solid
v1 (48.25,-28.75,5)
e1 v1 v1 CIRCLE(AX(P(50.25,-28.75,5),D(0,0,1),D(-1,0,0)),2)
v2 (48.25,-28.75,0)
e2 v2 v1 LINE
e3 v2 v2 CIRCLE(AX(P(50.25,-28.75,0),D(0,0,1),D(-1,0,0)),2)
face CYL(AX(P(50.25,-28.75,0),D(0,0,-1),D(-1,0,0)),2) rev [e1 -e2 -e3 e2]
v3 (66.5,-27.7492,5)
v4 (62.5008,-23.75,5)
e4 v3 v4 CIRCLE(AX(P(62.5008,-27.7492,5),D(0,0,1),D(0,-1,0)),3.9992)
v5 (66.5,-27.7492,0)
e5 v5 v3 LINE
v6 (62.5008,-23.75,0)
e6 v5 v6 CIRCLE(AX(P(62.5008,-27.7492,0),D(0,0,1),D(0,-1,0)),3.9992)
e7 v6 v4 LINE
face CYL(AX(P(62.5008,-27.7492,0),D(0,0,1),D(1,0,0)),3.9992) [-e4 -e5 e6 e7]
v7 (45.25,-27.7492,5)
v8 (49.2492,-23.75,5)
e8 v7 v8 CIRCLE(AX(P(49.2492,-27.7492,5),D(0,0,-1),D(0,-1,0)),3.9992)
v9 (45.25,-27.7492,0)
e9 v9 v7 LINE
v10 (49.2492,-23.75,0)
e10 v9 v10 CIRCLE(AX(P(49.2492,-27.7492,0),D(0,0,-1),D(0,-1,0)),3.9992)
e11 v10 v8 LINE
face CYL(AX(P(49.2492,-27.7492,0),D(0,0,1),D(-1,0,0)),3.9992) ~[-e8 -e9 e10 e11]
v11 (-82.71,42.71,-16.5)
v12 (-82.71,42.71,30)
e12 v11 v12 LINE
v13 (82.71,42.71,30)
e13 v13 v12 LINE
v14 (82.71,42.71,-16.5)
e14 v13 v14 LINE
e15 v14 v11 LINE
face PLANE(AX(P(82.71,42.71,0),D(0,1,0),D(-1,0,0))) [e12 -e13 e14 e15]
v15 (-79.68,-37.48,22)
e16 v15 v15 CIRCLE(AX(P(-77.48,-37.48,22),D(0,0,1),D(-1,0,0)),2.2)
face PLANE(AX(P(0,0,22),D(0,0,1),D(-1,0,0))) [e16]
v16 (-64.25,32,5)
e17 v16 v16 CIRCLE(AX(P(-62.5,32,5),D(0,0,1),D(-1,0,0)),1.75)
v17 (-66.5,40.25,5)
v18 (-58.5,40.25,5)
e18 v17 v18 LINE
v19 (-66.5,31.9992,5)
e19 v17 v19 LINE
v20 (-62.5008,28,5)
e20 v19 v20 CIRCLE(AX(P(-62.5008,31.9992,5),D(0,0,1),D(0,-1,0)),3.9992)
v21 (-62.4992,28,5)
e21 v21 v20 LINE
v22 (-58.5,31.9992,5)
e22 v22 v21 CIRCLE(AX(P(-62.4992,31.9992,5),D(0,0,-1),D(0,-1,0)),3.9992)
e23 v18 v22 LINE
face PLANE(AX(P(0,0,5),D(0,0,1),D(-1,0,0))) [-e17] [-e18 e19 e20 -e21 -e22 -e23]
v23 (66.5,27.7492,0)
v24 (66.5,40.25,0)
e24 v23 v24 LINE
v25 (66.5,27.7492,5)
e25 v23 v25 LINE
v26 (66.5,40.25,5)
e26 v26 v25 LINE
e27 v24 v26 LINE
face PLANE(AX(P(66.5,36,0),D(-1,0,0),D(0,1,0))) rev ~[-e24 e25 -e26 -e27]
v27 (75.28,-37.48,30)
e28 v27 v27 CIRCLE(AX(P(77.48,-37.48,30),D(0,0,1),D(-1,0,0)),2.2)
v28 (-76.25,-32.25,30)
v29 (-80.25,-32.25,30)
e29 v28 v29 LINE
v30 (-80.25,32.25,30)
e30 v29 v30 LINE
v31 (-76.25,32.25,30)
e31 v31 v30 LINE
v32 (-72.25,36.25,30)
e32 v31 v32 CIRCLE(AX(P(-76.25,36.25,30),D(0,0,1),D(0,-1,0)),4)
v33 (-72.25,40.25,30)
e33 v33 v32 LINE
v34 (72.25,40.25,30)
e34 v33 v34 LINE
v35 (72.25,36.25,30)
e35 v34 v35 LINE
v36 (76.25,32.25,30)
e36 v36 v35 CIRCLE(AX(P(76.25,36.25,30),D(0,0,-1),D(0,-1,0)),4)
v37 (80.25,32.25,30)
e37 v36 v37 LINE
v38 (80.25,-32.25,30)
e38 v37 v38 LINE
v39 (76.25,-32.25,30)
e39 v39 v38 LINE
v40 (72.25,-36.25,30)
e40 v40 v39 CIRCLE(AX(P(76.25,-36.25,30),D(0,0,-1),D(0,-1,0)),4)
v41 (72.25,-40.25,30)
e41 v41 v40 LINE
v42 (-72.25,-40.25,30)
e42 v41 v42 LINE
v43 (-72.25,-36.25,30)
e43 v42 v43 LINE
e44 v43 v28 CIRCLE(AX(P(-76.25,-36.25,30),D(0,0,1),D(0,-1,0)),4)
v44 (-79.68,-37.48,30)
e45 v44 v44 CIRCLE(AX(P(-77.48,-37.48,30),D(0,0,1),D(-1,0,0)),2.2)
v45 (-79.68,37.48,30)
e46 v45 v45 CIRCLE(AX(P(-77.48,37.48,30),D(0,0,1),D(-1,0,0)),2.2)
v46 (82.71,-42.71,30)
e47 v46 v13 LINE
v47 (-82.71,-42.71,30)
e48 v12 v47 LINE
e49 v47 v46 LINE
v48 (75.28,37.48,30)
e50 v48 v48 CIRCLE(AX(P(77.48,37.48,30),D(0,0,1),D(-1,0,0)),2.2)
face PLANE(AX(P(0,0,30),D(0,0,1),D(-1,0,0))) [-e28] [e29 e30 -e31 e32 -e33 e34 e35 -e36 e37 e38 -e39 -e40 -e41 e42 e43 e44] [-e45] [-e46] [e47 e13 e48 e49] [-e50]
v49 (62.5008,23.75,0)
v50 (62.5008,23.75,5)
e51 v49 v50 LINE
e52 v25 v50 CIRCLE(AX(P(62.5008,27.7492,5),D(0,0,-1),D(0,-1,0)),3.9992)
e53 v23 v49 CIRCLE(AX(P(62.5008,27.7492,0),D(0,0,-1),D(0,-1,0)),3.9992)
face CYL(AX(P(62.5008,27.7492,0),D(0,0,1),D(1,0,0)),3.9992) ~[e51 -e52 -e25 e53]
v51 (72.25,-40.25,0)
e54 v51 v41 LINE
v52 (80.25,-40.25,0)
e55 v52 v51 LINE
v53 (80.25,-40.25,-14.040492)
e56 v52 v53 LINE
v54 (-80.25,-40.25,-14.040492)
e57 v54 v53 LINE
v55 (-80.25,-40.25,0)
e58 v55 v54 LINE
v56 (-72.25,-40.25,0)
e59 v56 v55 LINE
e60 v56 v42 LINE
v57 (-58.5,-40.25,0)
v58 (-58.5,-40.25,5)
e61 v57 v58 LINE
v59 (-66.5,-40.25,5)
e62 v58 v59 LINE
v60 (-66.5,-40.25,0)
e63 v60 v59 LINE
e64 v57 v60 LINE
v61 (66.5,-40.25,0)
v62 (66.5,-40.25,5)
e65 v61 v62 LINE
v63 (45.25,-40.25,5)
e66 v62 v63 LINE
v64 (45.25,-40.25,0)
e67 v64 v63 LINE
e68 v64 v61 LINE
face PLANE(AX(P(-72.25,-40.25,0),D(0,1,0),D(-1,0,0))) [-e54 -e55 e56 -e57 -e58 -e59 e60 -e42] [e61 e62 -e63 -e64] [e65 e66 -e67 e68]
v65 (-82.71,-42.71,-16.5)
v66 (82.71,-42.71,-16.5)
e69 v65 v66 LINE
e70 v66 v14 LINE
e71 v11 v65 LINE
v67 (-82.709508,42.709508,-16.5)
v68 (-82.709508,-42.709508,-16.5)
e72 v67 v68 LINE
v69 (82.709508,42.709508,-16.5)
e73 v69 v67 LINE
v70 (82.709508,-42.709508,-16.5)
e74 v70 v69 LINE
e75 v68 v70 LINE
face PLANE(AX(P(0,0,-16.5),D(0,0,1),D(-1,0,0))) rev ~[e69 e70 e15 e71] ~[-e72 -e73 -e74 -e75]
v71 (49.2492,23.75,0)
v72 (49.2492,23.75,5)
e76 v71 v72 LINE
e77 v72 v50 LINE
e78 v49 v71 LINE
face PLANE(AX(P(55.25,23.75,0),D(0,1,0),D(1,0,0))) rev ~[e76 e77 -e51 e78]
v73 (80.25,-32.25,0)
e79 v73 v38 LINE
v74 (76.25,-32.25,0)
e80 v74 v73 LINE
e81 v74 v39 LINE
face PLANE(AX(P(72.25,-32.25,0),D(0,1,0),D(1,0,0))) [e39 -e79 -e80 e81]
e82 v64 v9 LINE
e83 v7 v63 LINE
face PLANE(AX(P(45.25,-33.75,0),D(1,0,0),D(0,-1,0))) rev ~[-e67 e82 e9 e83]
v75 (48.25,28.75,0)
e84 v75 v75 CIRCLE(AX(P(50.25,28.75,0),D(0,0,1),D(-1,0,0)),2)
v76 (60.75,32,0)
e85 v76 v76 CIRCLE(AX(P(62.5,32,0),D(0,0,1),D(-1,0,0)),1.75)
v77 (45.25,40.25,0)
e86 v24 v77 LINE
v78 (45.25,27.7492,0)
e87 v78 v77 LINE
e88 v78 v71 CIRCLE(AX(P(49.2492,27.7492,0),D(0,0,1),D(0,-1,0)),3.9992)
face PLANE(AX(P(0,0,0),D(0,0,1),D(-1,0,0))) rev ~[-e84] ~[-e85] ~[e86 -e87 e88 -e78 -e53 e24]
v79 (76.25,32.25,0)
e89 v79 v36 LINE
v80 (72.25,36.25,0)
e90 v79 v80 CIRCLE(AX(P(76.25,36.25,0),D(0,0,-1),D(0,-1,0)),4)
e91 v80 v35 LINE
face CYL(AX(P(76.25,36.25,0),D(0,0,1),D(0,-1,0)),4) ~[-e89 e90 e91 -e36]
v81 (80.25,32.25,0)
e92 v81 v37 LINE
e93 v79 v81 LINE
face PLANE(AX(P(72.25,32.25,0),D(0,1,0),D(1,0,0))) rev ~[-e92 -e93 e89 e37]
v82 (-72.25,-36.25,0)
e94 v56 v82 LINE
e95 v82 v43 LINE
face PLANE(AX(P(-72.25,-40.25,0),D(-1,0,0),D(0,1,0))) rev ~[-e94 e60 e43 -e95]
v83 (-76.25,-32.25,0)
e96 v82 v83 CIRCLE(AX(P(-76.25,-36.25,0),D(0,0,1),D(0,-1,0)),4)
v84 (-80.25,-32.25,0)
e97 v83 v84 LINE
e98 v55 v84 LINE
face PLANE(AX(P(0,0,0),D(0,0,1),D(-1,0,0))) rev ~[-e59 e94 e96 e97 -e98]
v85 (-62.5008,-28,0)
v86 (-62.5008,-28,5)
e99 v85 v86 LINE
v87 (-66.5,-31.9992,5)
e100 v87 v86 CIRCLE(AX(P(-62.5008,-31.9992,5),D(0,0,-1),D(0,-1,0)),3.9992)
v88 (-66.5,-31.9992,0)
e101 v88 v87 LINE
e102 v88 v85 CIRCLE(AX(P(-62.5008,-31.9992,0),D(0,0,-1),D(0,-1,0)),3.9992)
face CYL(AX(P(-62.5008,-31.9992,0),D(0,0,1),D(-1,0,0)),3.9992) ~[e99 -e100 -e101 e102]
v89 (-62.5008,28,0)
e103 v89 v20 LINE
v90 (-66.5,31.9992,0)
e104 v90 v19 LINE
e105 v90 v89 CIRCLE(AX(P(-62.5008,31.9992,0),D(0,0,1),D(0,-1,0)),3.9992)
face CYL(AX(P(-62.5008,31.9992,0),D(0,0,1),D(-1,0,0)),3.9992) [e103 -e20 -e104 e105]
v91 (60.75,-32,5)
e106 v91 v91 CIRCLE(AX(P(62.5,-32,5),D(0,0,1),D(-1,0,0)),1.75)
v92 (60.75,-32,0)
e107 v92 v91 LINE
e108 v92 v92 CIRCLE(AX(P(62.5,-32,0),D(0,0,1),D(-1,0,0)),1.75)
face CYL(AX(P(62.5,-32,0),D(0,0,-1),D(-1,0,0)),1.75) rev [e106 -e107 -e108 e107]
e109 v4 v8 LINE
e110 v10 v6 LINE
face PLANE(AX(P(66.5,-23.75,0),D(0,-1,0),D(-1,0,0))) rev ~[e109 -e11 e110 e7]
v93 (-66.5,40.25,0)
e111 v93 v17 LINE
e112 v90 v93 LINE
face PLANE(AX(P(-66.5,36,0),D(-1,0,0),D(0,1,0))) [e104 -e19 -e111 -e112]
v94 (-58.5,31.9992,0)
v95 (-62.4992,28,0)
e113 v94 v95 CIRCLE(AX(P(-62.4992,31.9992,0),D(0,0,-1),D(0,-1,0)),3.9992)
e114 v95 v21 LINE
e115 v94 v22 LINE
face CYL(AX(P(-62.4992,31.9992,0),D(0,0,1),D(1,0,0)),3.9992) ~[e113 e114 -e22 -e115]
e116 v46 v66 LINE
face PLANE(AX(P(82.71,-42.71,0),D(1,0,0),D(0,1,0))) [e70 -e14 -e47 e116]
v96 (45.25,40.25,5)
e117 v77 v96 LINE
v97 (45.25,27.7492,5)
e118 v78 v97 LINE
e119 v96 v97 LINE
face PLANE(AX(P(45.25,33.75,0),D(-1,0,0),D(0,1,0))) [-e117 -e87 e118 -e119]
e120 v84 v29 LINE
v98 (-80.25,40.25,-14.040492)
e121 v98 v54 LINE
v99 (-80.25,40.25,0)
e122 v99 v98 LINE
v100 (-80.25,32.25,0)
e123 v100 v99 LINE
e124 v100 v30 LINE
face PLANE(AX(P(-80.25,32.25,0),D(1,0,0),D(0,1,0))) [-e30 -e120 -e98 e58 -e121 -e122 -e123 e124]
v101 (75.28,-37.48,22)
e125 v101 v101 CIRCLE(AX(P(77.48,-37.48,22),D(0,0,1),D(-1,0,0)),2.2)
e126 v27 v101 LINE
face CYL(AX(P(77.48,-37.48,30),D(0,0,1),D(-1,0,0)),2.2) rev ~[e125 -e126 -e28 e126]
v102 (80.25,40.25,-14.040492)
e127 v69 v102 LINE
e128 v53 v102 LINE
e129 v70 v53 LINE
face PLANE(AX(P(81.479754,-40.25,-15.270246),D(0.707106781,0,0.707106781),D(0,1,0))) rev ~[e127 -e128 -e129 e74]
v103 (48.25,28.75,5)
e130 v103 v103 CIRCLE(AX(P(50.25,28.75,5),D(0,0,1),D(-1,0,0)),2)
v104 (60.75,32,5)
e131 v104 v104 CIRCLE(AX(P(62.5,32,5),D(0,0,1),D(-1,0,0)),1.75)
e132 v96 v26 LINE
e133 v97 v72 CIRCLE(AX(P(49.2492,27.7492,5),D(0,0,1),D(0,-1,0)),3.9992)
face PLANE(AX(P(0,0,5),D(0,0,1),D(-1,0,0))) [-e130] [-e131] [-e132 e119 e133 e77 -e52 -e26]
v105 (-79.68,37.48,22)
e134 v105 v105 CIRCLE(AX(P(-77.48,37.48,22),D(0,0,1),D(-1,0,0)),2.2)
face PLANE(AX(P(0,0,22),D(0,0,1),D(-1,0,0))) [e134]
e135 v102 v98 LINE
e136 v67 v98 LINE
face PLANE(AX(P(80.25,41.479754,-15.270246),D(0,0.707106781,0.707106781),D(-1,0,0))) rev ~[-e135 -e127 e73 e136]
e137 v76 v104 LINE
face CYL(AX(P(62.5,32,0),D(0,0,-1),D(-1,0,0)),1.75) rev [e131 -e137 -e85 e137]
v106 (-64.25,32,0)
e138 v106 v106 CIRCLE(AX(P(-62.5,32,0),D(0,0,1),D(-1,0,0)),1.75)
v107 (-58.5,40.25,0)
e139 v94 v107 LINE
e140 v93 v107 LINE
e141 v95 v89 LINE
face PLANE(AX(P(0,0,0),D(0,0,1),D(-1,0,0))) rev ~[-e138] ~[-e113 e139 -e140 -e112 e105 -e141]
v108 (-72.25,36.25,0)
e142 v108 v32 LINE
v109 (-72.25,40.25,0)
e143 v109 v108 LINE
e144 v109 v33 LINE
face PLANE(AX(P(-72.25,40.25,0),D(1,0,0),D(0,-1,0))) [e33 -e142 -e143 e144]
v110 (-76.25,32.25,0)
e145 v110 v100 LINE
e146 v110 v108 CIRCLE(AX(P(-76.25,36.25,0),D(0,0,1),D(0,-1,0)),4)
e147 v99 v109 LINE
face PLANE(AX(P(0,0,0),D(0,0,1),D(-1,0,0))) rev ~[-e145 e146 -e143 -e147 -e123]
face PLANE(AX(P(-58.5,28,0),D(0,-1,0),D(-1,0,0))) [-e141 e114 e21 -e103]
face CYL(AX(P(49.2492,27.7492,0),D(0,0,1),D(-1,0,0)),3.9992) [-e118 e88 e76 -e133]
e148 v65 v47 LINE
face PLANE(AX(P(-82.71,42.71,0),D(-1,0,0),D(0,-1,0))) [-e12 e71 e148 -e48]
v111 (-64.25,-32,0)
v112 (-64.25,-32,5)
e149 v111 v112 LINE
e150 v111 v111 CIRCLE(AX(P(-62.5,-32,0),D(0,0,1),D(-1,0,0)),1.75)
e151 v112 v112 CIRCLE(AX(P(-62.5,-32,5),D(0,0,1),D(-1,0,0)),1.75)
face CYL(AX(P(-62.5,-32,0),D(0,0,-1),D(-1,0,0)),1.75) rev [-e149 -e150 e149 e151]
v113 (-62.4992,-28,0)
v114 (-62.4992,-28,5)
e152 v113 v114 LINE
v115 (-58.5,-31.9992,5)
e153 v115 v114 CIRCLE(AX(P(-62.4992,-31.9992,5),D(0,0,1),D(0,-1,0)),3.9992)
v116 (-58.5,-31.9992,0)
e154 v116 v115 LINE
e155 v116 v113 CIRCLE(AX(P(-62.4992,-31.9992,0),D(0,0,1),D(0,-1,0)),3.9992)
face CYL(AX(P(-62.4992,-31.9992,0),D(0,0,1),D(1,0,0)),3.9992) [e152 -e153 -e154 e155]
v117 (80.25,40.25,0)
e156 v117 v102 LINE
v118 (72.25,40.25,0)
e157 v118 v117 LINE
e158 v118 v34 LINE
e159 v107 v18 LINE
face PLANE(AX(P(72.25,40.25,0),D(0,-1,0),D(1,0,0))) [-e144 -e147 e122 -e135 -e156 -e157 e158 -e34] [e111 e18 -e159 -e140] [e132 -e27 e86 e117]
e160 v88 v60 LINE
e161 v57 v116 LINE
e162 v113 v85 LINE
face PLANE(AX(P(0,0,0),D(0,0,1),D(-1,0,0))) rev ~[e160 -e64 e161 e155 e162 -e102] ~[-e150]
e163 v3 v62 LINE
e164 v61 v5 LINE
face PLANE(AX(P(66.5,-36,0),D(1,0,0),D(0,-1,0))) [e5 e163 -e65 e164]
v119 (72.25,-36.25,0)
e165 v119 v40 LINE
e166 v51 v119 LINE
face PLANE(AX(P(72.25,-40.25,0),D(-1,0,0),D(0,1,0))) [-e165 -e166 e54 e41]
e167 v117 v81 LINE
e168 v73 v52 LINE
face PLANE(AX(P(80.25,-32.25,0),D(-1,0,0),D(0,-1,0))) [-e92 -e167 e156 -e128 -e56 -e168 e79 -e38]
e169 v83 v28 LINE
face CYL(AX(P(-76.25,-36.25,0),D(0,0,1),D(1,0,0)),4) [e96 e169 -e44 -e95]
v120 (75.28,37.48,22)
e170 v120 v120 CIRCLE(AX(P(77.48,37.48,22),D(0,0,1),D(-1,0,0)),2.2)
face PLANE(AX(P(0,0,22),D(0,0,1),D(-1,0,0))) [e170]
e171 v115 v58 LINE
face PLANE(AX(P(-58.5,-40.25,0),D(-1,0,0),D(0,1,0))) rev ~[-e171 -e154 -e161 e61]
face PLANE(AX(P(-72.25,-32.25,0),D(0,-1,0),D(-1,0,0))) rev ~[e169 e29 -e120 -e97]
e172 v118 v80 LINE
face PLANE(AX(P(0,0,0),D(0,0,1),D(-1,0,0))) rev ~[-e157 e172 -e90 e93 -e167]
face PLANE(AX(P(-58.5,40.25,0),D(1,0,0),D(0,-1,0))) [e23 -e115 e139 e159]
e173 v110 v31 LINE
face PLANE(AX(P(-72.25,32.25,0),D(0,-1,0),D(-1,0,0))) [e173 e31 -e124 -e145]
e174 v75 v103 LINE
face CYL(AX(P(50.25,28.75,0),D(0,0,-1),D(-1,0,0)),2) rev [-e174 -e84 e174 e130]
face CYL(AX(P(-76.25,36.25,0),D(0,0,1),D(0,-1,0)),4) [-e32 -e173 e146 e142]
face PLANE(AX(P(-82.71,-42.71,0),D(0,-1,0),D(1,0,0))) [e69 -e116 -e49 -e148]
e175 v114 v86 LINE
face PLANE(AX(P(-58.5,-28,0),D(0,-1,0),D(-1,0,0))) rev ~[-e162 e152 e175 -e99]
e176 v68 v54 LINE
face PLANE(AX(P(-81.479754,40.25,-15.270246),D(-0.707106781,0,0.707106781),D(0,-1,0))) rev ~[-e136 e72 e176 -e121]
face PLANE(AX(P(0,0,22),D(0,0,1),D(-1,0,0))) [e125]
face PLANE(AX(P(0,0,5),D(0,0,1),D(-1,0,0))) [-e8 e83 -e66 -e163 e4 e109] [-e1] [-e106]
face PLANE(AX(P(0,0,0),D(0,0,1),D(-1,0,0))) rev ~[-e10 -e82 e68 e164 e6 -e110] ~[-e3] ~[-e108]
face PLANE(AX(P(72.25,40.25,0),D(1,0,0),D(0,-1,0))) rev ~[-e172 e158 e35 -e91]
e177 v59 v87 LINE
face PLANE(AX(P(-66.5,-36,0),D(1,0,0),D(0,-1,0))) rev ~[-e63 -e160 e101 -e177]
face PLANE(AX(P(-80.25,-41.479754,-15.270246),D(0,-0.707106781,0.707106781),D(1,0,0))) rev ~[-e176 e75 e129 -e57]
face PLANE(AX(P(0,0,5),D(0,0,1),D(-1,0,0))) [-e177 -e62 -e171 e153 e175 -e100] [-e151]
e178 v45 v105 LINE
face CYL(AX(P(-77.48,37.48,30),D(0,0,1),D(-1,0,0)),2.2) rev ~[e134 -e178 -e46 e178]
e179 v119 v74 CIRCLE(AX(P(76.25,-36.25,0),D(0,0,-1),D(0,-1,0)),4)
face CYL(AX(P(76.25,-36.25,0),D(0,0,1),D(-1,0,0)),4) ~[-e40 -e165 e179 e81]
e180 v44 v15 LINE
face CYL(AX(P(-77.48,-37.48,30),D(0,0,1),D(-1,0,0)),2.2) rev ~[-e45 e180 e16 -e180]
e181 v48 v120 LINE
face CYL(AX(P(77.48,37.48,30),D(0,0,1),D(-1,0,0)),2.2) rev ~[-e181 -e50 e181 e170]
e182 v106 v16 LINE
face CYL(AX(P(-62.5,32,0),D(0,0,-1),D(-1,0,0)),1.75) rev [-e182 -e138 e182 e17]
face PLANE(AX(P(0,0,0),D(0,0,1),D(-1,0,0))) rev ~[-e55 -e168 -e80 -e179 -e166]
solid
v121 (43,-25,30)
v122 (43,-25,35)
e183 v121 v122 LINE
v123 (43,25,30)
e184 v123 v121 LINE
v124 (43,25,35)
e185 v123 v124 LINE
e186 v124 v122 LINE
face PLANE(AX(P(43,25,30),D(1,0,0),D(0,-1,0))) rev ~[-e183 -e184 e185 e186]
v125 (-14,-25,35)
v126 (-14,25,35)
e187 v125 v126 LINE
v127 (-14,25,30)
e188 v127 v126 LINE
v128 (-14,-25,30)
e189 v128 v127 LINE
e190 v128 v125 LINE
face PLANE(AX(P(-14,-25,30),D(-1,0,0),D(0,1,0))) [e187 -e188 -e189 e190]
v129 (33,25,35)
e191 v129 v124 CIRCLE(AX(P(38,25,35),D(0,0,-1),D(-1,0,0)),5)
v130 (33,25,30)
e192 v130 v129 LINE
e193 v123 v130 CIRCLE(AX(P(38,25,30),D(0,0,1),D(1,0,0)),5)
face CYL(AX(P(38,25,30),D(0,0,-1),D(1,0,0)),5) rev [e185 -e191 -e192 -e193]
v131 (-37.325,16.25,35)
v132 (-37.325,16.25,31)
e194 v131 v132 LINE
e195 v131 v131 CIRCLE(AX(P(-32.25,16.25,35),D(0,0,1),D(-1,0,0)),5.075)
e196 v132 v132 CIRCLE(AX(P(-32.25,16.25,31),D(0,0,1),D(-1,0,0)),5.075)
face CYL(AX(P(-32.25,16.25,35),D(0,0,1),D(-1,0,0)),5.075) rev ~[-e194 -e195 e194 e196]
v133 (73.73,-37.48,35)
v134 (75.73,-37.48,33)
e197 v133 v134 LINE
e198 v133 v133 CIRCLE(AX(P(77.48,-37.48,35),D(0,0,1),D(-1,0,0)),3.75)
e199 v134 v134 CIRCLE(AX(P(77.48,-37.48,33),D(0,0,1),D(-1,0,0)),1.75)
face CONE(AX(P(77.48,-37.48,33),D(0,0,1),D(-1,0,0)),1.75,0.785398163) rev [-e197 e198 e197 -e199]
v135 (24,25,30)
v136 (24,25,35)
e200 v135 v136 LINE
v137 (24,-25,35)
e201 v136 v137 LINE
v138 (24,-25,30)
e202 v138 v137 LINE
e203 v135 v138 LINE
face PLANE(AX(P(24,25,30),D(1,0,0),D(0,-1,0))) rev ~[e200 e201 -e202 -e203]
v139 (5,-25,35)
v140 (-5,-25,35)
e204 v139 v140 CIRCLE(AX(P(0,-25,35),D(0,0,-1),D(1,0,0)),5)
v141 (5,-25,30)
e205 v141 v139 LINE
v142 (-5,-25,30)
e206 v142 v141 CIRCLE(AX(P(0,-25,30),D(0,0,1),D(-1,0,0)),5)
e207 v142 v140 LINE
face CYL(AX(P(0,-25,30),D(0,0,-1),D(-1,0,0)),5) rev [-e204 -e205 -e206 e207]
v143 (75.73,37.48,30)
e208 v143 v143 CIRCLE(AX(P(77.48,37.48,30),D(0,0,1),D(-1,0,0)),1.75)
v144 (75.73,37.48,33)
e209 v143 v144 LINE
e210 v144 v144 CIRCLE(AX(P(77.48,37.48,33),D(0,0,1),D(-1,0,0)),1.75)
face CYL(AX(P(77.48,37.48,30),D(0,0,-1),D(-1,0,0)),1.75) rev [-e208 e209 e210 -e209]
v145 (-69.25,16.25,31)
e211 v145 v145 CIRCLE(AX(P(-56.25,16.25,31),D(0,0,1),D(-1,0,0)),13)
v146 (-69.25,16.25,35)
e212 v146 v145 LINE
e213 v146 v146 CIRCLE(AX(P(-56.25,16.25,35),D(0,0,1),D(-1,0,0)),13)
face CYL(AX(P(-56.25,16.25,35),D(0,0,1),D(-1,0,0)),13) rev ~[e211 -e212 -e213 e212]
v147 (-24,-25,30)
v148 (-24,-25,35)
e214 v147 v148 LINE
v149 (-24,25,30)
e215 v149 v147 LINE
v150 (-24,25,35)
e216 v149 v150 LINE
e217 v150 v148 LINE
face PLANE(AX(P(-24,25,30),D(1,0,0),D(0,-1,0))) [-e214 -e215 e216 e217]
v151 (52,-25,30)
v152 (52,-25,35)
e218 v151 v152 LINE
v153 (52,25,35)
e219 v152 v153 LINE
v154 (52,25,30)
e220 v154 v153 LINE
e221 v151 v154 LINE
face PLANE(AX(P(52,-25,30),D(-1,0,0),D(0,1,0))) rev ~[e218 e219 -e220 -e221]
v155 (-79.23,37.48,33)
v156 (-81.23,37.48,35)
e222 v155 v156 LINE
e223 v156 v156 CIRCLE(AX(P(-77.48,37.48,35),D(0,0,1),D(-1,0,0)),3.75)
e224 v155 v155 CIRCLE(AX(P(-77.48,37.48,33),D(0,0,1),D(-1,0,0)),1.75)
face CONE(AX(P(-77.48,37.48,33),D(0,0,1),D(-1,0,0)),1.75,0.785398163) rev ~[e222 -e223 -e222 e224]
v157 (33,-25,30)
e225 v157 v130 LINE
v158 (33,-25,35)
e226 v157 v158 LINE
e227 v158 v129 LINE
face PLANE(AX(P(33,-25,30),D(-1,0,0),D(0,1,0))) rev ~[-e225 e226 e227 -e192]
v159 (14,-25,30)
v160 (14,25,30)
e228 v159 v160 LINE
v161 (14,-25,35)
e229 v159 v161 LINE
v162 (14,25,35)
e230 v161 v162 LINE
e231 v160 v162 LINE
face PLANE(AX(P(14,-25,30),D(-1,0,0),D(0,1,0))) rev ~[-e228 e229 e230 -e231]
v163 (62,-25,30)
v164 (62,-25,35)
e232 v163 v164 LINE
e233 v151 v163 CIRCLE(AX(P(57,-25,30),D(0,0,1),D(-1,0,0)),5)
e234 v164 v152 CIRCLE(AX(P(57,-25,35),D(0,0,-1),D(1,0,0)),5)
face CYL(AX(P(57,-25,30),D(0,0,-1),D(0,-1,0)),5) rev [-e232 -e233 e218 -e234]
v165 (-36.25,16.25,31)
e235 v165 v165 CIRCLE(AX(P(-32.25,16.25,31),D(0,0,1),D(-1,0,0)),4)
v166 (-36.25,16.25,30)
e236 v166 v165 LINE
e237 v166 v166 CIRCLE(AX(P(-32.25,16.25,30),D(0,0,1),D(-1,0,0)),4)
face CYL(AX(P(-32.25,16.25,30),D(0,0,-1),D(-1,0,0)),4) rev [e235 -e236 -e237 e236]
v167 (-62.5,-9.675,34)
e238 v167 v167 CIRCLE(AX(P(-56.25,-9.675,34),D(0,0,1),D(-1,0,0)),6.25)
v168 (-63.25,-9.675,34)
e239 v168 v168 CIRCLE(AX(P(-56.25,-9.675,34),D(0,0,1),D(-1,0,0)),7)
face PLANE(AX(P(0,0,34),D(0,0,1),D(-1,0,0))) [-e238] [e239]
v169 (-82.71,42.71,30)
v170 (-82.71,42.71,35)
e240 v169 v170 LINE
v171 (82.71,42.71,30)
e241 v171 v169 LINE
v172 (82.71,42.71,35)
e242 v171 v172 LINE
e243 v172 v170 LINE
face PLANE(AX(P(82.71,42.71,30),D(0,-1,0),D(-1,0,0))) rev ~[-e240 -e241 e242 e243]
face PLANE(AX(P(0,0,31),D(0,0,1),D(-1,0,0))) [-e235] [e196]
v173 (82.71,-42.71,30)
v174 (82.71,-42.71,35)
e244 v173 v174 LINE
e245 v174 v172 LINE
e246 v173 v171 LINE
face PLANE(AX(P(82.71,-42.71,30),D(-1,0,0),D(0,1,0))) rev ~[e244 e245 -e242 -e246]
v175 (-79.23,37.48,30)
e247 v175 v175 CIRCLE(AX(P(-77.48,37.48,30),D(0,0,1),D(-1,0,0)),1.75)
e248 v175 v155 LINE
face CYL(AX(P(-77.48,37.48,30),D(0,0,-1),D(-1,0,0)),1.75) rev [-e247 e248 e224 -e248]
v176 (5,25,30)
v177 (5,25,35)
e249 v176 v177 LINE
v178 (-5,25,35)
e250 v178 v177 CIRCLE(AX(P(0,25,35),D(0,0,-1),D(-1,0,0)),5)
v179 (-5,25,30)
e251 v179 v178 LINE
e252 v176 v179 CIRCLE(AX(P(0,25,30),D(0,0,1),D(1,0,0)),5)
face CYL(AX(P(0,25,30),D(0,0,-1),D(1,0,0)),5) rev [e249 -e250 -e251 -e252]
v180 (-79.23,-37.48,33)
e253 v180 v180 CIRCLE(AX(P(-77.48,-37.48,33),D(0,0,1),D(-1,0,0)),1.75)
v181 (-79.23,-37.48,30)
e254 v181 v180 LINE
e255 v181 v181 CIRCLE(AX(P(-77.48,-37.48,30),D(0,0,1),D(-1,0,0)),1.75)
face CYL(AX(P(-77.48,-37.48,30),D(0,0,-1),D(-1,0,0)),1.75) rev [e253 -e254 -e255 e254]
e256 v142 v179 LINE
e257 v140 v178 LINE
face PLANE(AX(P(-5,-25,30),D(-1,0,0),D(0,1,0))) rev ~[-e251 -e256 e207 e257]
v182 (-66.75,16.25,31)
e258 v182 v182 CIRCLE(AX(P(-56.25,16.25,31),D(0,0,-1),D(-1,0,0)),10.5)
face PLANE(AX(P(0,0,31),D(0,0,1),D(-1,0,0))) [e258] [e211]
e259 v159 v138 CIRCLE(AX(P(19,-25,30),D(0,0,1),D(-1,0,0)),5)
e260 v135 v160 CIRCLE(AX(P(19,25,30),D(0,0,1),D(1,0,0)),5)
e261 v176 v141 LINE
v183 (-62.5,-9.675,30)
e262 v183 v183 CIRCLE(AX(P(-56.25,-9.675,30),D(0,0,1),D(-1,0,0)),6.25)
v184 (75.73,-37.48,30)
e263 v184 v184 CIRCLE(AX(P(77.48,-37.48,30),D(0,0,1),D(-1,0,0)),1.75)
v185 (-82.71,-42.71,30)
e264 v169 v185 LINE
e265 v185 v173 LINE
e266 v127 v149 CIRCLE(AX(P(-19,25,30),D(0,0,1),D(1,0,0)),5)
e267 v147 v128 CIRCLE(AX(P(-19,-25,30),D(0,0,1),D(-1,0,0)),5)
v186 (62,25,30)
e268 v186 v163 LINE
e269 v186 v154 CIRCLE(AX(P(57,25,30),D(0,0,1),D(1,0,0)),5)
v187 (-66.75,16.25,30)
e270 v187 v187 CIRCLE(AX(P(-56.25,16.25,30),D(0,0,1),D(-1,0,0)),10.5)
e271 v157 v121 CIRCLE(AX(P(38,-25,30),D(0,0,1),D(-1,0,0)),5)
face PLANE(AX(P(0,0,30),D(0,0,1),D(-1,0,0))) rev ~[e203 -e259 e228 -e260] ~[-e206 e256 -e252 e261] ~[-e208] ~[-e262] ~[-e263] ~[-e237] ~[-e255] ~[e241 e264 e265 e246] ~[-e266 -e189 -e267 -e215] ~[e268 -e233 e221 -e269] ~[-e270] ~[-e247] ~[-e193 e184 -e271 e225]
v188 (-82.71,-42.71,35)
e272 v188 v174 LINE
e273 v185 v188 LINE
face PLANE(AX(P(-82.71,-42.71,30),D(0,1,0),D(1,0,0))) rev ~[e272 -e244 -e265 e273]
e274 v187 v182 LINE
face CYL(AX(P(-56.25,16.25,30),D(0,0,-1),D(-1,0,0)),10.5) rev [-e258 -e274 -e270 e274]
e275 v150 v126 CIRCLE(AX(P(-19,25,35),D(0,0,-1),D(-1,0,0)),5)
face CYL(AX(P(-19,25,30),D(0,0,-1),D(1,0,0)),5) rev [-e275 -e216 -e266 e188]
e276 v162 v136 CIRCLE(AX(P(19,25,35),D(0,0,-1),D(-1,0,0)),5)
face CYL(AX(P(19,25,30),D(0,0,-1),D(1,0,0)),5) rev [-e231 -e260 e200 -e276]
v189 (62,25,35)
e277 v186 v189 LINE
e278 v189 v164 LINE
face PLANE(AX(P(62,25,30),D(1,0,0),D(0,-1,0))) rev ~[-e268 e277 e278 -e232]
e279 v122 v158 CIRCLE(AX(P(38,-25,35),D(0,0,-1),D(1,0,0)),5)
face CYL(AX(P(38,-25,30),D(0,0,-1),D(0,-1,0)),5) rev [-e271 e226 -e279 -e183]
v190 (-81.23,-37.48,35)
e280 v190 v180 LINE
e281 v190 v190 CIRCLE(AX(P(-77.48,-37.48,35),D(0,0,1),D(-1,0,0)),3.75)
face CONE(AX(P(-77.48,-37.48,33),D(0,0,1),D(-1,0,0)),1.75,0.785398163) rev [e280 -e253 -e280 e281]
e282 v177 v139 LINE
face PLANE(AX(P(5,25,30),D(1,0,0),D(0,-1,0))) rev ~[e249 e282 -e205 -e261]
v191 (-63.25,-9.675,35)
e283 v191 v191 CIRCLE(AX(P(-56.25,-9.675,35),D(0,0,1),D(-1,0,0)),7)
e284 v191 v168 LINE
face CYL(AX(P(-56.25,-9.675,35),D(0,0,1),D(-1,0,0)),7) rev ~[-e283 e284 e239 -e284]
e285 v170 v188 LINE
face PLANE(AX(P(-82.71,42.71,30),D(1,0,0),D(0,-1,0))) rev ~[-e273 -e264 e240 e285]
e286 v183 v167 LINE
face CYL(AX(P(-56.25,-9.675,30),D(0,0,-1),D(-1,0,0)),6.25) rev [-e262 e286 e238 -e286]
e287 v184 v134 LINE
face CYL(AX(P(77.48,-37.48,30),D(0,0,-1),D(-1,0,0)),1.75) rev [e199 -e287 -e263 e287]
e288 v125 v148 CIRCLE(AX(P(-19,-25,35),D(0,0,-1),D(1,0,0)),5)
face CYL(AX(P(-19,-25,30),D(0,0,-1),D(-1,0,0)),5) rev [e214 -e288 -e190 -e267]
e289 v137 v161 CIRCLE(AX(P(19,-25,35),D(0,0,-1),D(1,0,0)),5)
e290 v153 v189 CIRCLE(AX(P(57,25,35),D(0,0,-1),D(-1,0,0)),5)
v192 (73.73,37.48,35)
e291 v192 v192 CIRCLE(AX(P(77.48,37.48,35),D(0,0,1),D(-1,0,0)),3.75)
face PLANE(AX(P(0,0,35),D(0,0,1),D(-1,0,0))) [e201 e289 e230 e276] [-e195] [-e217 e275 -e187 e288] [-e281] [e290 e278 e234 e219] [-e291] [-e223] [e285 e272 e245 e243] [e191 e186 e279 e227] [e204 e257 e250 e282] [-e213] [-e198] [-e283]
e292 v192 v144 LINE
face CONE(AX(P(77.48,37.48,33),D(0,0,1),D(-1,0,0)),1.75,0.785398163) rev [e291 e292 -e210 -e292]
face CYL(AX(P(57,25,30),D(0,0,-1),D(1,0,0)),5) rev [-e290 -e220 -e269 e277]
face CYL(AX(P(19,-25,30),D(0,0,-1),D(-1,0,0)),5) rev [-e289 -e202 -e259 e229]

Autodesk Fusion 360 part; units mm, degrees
sketch "Sketch5" plane through (0, 0, 0) normal (0, 0, 1) x (-1, 0, 0)
  line L0 (-80.25, -40.25) -> (-80.25, 40.25)
  line L1 (-80.25, 40.25) -> (80.25, 40.25)
  line L2 (80.25, 40.25) -> (80.25, -40.25)
  line L3 (80.25, -40.25) -> (-80.25, -40.25)
  line L4 (82.71, -42.71) -> (82.71, 42.71)
  line L5 (82.71, 42.71) -> (-82.71, 42.71)
  line L6 (-82.71, 42.71) -> (-82.71, -42.71)
  line L7 (-82.71, -42.71) -> (82.71, -42.71)
  line L8 (-80.25, 40.25) -> (80.25, 40.25)
  line L9 (80.25, 40.25) -> (80.25, -40.25)
  line L10 (80.25, -40.25) -> (-80.25, -40.25)
  line L11 (-80.25, -40.25) -> (-80.25, 40.25)
  line L12 (-80.25, 40.25) -> (80.25, -40.25) construction
  line L13 (80.25, 40.25) -> (-80.25, -40.25) construction
  line L14 (-82.71, 42.71) -> (82.71, 42.71)
  line L15 (82.71, 42.71) -> (82.71, -42.71)
  line L16 (82.71, -42.71) -> (-82.71, -42.71)
  line L17 (-82.71, -42.71) -> (-82.71, 42.71)
  line L18 (-82.71, 42.71) -> (82.71, -42.71) construction
  line L19 (82.71, 42.71) -> (-82.71, -42.71) construction
  line L20 (80.25, -40.25) -> (72.25, -40.25)
  line L21 (72.25, -40.25) -> (72.25, -32.25)
  line L22 (72.25, -32.25) -> (80.25, -32.25)
  line L23 (80.25, -32.25) -> (80.25, -40.25)
  line L24 (80.25, -40.25) -> (72.25, -32.25) construction
  line L25 (72.25, -40.25) -> (80.25, -32.25) construction
  circle A0 centre (77.48, -37.48) radius 2.2
  line L26 (66.5, -36) -> (58.5, -36)
  line L27 (58.5, -40.25) -> (58.5, -28)
  line L28 (58.5, -28) -> (66.5, -28)
  line L29 (66.5, -28) -> (66.5, -40.25)
  line L30 (66.5, -36) -> (58.5, -28) construction
  line L31 (58.5, -36) -> (66.5, -28) construction
  circle A1 centre (62.5, -32) radius 1.75
  line L32 (0, 0) -> (0, -11.7816) construction
  line L33 (0, 0) -> (-11.8343, 0) construction
  line L34 (-72.25, -40.25) -> (-80.25, -32.25) construction
  line L35 (-80.25, -40.25) -> (-72.25, -40.25)
  circle A2 centre (-77.48, -37.48) radius 2.2
  circle A3 centre (-62.5, -32) radius 1.75
  line L36 (-58.5, -28) -> (-66.5, -28)
  line L37 (-66.5, -36) -> (-58.5, -36)
  line L38 (-80.25, -32.25) -> (-80.25, -40.25)
  line L39 (-72.25, -40.25) -> (-72.25, -32.25)
  line L40 (-66.5, -36) -> (-58.5, -28) construction
  line L41 (-58.5, -40.25) -> (-58.5, -28)
  line L42 (-72.25, -32.25) -> (-80.25, -32.25)
  line L43 (-80.25, -40.25) -> (-72.25, -32.25) construction
  line L44 (-58.5, -36) -> (-66.5, -28) construction
  line L45 (-66.5, -23.75) -> (-66.5, -40.25)
  line L46 (72.25, 40.25) -> (80.25, 32.25) construction
  line L47 (58.5, 40.25) -> (58.5, 28)
  line L48 (66.5, 28) -> (66.5, 40.25)
  line L49 (80.25, 32.25) -> (80.25, 40.25)
  circle A4 centre (77.48, 37.48) radius 2.2
  line L50 (58.5, 28) -> (66.5, 28)
  line L51 (72.25, 40.25) -> (72.25, 32.25)
  line L52 (72.25, 32.25) -> (80.25, 32.25)
  line L53 (58.5, 36) -> (66.5, 28) construction
  line L54 (66.5, 36) -> (58.5, 36)
  line L55 (80.25, 40.25) -> (72.25, 32.25) construction
  circle A5 centre (62.5, 32) radius 1.75
  line L56 (80.25, 40.25) -> (72.25, 40.25)
  line L57 (66.5, 36) -> (58.5, 28) construction
  line L58 (-58.5, 36) -> (-66.5, 28) construction
  line L59 (-80.25, 32.25) -> (-80.25, 40.25)
  line L60 (-66.5, 23.75) -> (-66.5, 40.25)
  line L61 (-80.25, 40.25) -> (-72.25, 40.25)
  circle A6 centre (-77.48, 37.48) radius 2.2
  line L62 (-72.25, 40.25) -> (-80.25, 32.25) construction
  line L63 (-72.25, 32.25) -> (-80.25, 32.25)
  line L64 (-58.5, 28) -> (-66.5, 28)
  line L65 (-66.5, 36) -> (-58.5, 28) construction
  line L66 (-66.5, 36) -> (-58.5, 36)
  line L67 (-80.25, 40.25) -> (-72.25, 32.25) construction
  line L68 (-58.5, 40.25) -> (-58.5, 28)
  line L69 (-72.25, 40.25) -> (-72.25, 32.25)
  circle A7 centre (-62.5, 32) radius 1.75
  line L70 (82.71, -42.71) -> (72.25, -32.25) construction
  line L71 (72.25, -42.71) -> (82.71, -32.25) construction
  circle A8 centre (-50.25, 28.75) radius 2
  circle A9 centre (-50.25, -28.75) radius 2
  line L72 (-50.25, 28.75) -> (-50.25, 26.8205) construction
  line L73 (-50.25, -28.75) -> (-50.25, -5.4886) construction
  line L74 (-50.25, 28.75) -> (-50.25, -28.75) construction
  line L75 (-66.5, 23.75) -> (-45.25, 23.75)
  line L76 (-45.25, 23.75) -> (-45.25, 33.75)
  line L77 (-45.25, 33.75) -> (-55.25, 33.75)
  line L78 (-55.25, 33.75) -> (-55.25, 23.75)
  line L79 (-55.25, 23.75) -> (-45.25, 33.75) construction
  line L80 (-45.25, 23.75) -> (-55.25, 33.75) construction
  line L81 (-55.25, -33.75) -> (-45.25, -33.75)
  line L82 (-45.25, -33.75) -> (-45.25, -23.75)
  line L83 (-45.25, -23.75) -> (-66.5, -23.75)
  line L84 (-55.25, -23.75) -> (-55.25, -33.75)
  line L85 (-55.25, -33.75) -> (-45.25, -23.75) construction
  line L86 (-45.25, -33.75) -> (-55.25, -23.75) construction
  line L87 (-45.25, -33.75) -> (-45.25, -40.25)
  line L88 (-55.25, -33.75) -> (-55.25, -40.25)
  line L89 (-45.25, 33.75) -> (-45.25, 40.25)
  line L90 (-55.25, 33.75) -> (-55.25, 40.25)
  point P0 (-82.71, -42.71)
  point P1 (-80.25, -40.25)
  point P2 (-80.25, -40.25)
  point P3 (-82.71, -42.71)
  point P4 (82.71, 42.71)
  point P5 (80.25, 40.25)
  point P6 (80.25, 40.25)
  point P7 (-80.25, 40.25)
  point P8 (-80.25, 40.25)
  point P9 (-80.25, 40.25)
  point P10 (-80.25, 40.25)
  point P11 (-50.25, 28.75)
  point P12 (-50.25, -28.75)
  dimension "d75" = 160.5
  dimension "d76" = 80.5
  dimension "d77" = 165.42
  dimension "d78" = 85.42
  dimension "d79" = 8
  dimension "d80" = 8
  dimension "d81" = 4.4
  dimension "d82" = 8
  dimension "d83" = 8
  dimension "d84" = 3.5
  dimension "d85" = 8.25
  dimension "d86" = 17.75
  dimension "d124" = 4
  dimension "d125" = 4
  dimension "d126" = 57.5
  dimension "d127" = 28.75
  dimension "d128" = 30
  dimension "d129" = 10
  dimension "d130" = 10
  dimension "d131" = 10
  dimension "d132" = 10
extrude "Extrude4" add sketch "Sketch5" along normal blind 30 contours L0 L3 L10 L11 L35 L38 L39 L42 | L0 L1 L8 L11 L59 L61 L63 L69 | L2 L3 L9 L10 L20 L21 L22 L23 | L1 L2 L8 L9 L49 L51 L52 L56 | L4 L5 L6 L7 L14 L15 L16 L17 | A0 | A2 | A4 | A6 makes body 1
extrude "Extrude13" add sketch "Sketch5" against normal blind 16.5 contours L4 L5 L6 L7 L14 L15 L16 L17 bodies 1
chamfer "Chamfer2" distance 2.46 angle 45 4 edges at (0, -40.25, -16.5) (-80.25, 0, -16.5) (0, 40.25, -16.5) (80.25, 0, -16.5) on bodies 1
extrude "Extrude7" cut sketch "Sketch5" against normal blind 8 from surface at 30 contours A0 | A2 | A4 | A6 bodies 1
extrude "Extrude5" add sketch "Sketch5" along normal blind 5 contours L3 L10 L37 L41 L45 | L3 L10 L36 L41 L45 L83 L84 L88 | L36 L37 L41 L45 | L3 L10 L81 L87 L88 | L1 L8 L60 L66 L68 | L81 L82 L83 L84 | L1 L8 L60 L64 L68 L75 L78 L90 | L60 L64 L66 L68 | L3 L10 L26 L27 L29 | L1 L8 L77 L89 L90 | L26 L27 L28 L29 | L75 L76 L77 L78 | L1 L8 L47 L48 L54 | L47 L48 L50 L54 bodies 1
fillet "Fillet6" radius 4 8 edges at (-58.5, -28, 2.5) (-66.5, -28, 2.5) (-66.5, 28, 2.5) (-58.5, 28, 2.5) (45.25, 23.75, 2.5) (66.5, 23.75, 2.5) (45.25, -23.75, 2.5) (66.5, -23.75, 2.5) on bodies 1
fillet "Fillet8" radius 4 4 edges at (-72.25, -32.25, 15) (-72.25, 32.25, 15) (72.25, 32.25, 15) (72.25, -32.25, 15) on bodies 1
sketch "Sketch6" plane through (0, 0, 30) normal (0, 0, 1) x (-1, 0, 0)
  circle A0 centre (77.48, -37.48) radius 2.2
  circle A1 centre (-77.48, 37.48) radius 2.2
  circle A2 centre (77.48, 37.48) radius 2.2
  circle A3 centre (-77.48, -37.48) radius 2.2
  line L0 (72.25, 40.25) -> (72.25, 36.25)
  line L1 (76.25, 32.25) -> (80.25, 32.25)
  line L2 (80.25, 32.25) -> (80.25, -32.25)
  line L3 (80.25, -32.25) -> (76.25, -32.25)
  line L4 (72.25, -36.25) -> (72.25, -40.25)
  line L5 (72.25, -40.25) -> (-72.25, -40.25)
  line L6 (-72.25, -40.25) -> (-72.25, -36.25)
  line L7 (-76.25, -32.25) -> (-80.25, -32.25)
  line L8 (-80.25, -32.25) -> (-80.25, 32.25)
  line L9 (-80.25, 32.25) -> (-76.25, 32.25)
  line L10 (-72.25, 36.25) -> (-72.25, 40.25)
  line L11 (-82.71, -42.71) -> (82.71, -42.71)
  line L12 (82.71, -42.71) -> (82.71, 42.71)
  line L13 (82.71, 42.71) -> (-82.71, 42.71)
  line L14 (-82.71, 42.71) -> (-82.71, -42.71)
  line L15 (-82.71, 42.71) -> (82.71, 42.71)
  line L16 (82.71, 42.71) -> (82.71, -42.71)
  line L17 (82.71, -42.71) -> (-82.71, -42.71)
  line L18 (-82.71, -42.71) -> (-82.71, 42.71)
  line L19 (-82.71, 42.71) -> (82.71, -42.71) construction
  line L20 (82.71, 42.71) -> (-82.71, -42.71) construction
  circle A4 centre (77.48, -37.48) radius 1.75
  circle A5 centre (77.48, 37.48) radius 1.75
  circle A6 centre (-77.48, -37.48) radius 1.75
  circle A7 centre (-77.48, 37.48) radius 1.75
  circle A8 centre (32.25, -16.25) radius 5.075
  circle A9 centre (32.25, -16.25) radius 4
  arc A10 (-76.25, 32.25) -> (-72.25, 36.25) centre (-76.25, 36.25) ccw
  line L21 (-72.25, 40.25) -> (72.25, 40.25)
  arc A11 (72.25, 36.25) -> (76.25, 32.25) centre (76.25, 36.25) ccw
  arc A12 (76.25, -32.25) -> (72.25, -36.25) centre (76.25, -36.25) ccw
  arc A13 (-72.25, -36.25) -> (-76.25, -32.25) centre (-76.25, -36.25) ccw
  circle A14 centre (56.25, -16.25) radius 13
  circle A15 centre (56.25, -16.25) radius 10.5
  circle A16 centre (56.25, 9.675) radius 6.25
  circle A17 centre (56.25, 9.675) radius 7
  line L22 (-14, 25) -> (-14, -25)
  line L23 (-24, -25) -> (-24, 25)
  line L24 (-24, 0) -> (-14, 0) construction
  line L25 (-19, 0) -> (-19, 8.6843) construction
  line L26 (-5, 0) -> (5, 0) construction
  line L27 (5, 25) -> (5, -25)
  line L28 (0, 0) -> (0, 6.9936) construction
  line L29 (-5, -25) -> (-5, 25)
  line L30 (0, -2.5) -> (0, -20)
  line L31 (24, -25) -> (24, 25)
  line L32 (14, 25) -> (14, -25)
  arc A18 (-19, 30) -> (-24, 25) centre (-19, 25) ccw
  arc A19 (-14, 25) -> (-19, 30) centre (-19, 25) ccw
  arc A20 (-24, -25) -> (-19, -30) centre (-19, -25) ccw
  arc A21 (-19, -30) -> (-14, -25) centre (-19, -25) ccw
  arc A22 (0, 30) -> (-5, 25) centre (0, 25) ccw
  arc A23 (5, 25) -> (0, 30) centre (0, 25) ccw
  arc A24 (-5, -25) -> (0, -30) centre (0, -25) ccw
  arc A25 (0, -30) -> (5, -25) centre (0, -25) ccw
  arc A26 (19, 30) -> (14, 25) centre (19, 25) ccw
  arc A27 (24, 25) -> (19, 30) centre (19, 25) ccw
  arc A28 (14, -25) -> (19, -30) centre (19, -25) ccw
  arc A29 (19, -30) -> (24, -25) centre (19, -25) ccw
  line L33 (-14, 25) -> (-14, -25)
  line L34 (-24, 0) -> (-14, 0) construction
  arc A30 (-24, -25) -> (-19, -30) centre (-19, -25) ccw
  line L35 (-24, -25) -> (-24, 25)
  arc A31 (-19, 30) -> (-24, 25) centre (-19, 25) ccw
  arc A32 (-19, -30) -> (-14, -25) centre (-19, -25) ccw
  arc A33 (-14, 25) -> (-19, 30) centre (-19, 25) ccw
  line L36 (-19, 0) -> (-19, 8.6843) construction
  arc A34 (-57, 30) -> (-62, 25) centre (-57, 25) ccw
  line L37 (-43, 0) -> (-33, 0) construction
  line L38 (-57, 0) -> (-57, 8.6843) construction
  line L39 (-52, 25) -> (-52, -25)
  arc A35 (-38, 30) -> (-43, 25) centre (-38, 25) ccw
  arc A36 (-38, -30) -> (-33, -25) centre (-38, -25) ccw
  arc A37 (-33, 25) -> (-38, 30) centre (-38, 25) ccw
  arc A38 (-62, -25) -> (-57, -30) centre (-57, -25) ccw
  line L40 (-33, 25) -> (-33, -25)
  arc A39 (-57, -30) -> (-52, -25) centre (-57, -25) ccw
  line L41 (-38, 0) -> (-38, 8.6843) construction
  line L42 (-62, -25) -> (-62, 25)
  line L43 (-62, 0) -> (-52, 0) construction
  line L44 (-43, -25) -> (-43, 25)
  arc A40 (-52, 25) -> (-57, 30) centre (-57, 25) ccw
  arc A41 (-43, -25) -> (-38, -30) centre (-38, -25) ccw
  point P0 (-24, 30)
  point P1 (-14, 30)
  point P2 (-24, -30)
  point P3 (-5, -30)
  point P4 (5, 30)
  point P5 (-5, 30)
  point P6 (-24, -30)
  point P7 (-14, 30)
  point P8 (-24, 30)
  point P9 (-62, -30)
  point P10 (-52, 30)
  point P11 (-43, -30)
  point P12 (-62, 30)
  point P13 (-33, 30)
  point P14 (-43, 30)
  dimension "d102" = 165.42
  dimension "d103" = 85.42
  dimension "d104" = 3.5
  dimension "d105" = 3.5
  dimension "d106" = 3.5
  dimension "d107" = 3.5
  dimension "d110" = 10.15
  dimension "d111" = 8
  dimension "d143" = 24
  dimension "d144" = 48
  dimension "d145" = 26
  dimension "d146" = 21
  dimension "d147" = 24
  dimension "d148" = 24
  dimension "d149" = 12.5
  dimension "d150" = 14
  dimension "d151" = 24
  dimension "d152" = 49.925
  dimension "d154" = 10
  dimension "d155" = 60
  dimension "d158" = 42.71
  dimension "d160" = 10
  dimension "d161" = 60
  dimension "d162" = 14
  dimension "d163" = 5
  dimension "d164" = 5
  dimension "d165" = 5
  dimension "d166" = 5
  dimension "d167" = 5
  dimension "d168" = 5
  dimension "d169" = 5
  dimension "d170" = 5
  dimension "d171" = 5
  dimension "d172" = 10
  dimension "d173" = 60
  dimension "d174" = 5
  dimension "d175" = 5
  dimension "d176" = 10
  dimension "d177" = 60
  dimension "d178" = 5
  dimension "d179" = 5
  dimension "d180" = 10
  dimension "d181" = 60
  dimension "d182" = 5
  dimension "d183" = 5
  dimension "d184" = 19
  dimension "d185" = 19
extrude "Extrude10" add sketch "Sketch6" along normal blind 5 separate body contours A0 | A1 | A2 | A3 | L0 L1 L2 L3 L4 L5 L6 L7 L8 L9 L10 A10 L21 A11 A12 A13 | L11 L12 L13 L14 L15 L16 L17 L18 | A8 | A14 | A17 makes body 2
extrude "Extrude11" cut sketch "Sketch6" against normal blind 4 from surface at 5 contours A8 | A14 | A15 bodies 2
extrude "Extrude15" cut sketch "Sketch6" against normal blind 1 from surface at 5 contours A17 bodies 2
chamfer "Chamfer3" distance 2 angle 45 4 edges at (79.1116, -38.1128, 35) (79.1116, 36.8472, 35) (-75.8484, -38.1128, 35) (-75.8484, 36.8472, 35) on bodies 2
equation "DisplayWidth = 160.5 mm"
equation "DisplayHeight = 80.5 mm"
equation "WallThickness = 2.46 mm"
equation "ScreenCoverThickness = 0.8 mm"
equation "P1WallHeight = 15 mm"
equation "P2Height = 30 mm"
equation "d46 = P2Height"
equation "d75 = DisplayWidth"
equation "d76 = DisplayHeight"
equation "d77 = DisplayWidth + 2 * WallThickness"
equation "d78 = DisplayHeight + 2 * WallThickness"
equation "d102 = DisplayWidth + 2 * WallThickness"
equation "d103 = DisplayHeight + 2 * WallThickness"
equation "d127 = ( 57.5 / 2 ) * 1 mm"
equation "d152 = 48 mm + 1.925 mm"
equation "d158 = ( 85.42 / 2 ) * 1 mm"
